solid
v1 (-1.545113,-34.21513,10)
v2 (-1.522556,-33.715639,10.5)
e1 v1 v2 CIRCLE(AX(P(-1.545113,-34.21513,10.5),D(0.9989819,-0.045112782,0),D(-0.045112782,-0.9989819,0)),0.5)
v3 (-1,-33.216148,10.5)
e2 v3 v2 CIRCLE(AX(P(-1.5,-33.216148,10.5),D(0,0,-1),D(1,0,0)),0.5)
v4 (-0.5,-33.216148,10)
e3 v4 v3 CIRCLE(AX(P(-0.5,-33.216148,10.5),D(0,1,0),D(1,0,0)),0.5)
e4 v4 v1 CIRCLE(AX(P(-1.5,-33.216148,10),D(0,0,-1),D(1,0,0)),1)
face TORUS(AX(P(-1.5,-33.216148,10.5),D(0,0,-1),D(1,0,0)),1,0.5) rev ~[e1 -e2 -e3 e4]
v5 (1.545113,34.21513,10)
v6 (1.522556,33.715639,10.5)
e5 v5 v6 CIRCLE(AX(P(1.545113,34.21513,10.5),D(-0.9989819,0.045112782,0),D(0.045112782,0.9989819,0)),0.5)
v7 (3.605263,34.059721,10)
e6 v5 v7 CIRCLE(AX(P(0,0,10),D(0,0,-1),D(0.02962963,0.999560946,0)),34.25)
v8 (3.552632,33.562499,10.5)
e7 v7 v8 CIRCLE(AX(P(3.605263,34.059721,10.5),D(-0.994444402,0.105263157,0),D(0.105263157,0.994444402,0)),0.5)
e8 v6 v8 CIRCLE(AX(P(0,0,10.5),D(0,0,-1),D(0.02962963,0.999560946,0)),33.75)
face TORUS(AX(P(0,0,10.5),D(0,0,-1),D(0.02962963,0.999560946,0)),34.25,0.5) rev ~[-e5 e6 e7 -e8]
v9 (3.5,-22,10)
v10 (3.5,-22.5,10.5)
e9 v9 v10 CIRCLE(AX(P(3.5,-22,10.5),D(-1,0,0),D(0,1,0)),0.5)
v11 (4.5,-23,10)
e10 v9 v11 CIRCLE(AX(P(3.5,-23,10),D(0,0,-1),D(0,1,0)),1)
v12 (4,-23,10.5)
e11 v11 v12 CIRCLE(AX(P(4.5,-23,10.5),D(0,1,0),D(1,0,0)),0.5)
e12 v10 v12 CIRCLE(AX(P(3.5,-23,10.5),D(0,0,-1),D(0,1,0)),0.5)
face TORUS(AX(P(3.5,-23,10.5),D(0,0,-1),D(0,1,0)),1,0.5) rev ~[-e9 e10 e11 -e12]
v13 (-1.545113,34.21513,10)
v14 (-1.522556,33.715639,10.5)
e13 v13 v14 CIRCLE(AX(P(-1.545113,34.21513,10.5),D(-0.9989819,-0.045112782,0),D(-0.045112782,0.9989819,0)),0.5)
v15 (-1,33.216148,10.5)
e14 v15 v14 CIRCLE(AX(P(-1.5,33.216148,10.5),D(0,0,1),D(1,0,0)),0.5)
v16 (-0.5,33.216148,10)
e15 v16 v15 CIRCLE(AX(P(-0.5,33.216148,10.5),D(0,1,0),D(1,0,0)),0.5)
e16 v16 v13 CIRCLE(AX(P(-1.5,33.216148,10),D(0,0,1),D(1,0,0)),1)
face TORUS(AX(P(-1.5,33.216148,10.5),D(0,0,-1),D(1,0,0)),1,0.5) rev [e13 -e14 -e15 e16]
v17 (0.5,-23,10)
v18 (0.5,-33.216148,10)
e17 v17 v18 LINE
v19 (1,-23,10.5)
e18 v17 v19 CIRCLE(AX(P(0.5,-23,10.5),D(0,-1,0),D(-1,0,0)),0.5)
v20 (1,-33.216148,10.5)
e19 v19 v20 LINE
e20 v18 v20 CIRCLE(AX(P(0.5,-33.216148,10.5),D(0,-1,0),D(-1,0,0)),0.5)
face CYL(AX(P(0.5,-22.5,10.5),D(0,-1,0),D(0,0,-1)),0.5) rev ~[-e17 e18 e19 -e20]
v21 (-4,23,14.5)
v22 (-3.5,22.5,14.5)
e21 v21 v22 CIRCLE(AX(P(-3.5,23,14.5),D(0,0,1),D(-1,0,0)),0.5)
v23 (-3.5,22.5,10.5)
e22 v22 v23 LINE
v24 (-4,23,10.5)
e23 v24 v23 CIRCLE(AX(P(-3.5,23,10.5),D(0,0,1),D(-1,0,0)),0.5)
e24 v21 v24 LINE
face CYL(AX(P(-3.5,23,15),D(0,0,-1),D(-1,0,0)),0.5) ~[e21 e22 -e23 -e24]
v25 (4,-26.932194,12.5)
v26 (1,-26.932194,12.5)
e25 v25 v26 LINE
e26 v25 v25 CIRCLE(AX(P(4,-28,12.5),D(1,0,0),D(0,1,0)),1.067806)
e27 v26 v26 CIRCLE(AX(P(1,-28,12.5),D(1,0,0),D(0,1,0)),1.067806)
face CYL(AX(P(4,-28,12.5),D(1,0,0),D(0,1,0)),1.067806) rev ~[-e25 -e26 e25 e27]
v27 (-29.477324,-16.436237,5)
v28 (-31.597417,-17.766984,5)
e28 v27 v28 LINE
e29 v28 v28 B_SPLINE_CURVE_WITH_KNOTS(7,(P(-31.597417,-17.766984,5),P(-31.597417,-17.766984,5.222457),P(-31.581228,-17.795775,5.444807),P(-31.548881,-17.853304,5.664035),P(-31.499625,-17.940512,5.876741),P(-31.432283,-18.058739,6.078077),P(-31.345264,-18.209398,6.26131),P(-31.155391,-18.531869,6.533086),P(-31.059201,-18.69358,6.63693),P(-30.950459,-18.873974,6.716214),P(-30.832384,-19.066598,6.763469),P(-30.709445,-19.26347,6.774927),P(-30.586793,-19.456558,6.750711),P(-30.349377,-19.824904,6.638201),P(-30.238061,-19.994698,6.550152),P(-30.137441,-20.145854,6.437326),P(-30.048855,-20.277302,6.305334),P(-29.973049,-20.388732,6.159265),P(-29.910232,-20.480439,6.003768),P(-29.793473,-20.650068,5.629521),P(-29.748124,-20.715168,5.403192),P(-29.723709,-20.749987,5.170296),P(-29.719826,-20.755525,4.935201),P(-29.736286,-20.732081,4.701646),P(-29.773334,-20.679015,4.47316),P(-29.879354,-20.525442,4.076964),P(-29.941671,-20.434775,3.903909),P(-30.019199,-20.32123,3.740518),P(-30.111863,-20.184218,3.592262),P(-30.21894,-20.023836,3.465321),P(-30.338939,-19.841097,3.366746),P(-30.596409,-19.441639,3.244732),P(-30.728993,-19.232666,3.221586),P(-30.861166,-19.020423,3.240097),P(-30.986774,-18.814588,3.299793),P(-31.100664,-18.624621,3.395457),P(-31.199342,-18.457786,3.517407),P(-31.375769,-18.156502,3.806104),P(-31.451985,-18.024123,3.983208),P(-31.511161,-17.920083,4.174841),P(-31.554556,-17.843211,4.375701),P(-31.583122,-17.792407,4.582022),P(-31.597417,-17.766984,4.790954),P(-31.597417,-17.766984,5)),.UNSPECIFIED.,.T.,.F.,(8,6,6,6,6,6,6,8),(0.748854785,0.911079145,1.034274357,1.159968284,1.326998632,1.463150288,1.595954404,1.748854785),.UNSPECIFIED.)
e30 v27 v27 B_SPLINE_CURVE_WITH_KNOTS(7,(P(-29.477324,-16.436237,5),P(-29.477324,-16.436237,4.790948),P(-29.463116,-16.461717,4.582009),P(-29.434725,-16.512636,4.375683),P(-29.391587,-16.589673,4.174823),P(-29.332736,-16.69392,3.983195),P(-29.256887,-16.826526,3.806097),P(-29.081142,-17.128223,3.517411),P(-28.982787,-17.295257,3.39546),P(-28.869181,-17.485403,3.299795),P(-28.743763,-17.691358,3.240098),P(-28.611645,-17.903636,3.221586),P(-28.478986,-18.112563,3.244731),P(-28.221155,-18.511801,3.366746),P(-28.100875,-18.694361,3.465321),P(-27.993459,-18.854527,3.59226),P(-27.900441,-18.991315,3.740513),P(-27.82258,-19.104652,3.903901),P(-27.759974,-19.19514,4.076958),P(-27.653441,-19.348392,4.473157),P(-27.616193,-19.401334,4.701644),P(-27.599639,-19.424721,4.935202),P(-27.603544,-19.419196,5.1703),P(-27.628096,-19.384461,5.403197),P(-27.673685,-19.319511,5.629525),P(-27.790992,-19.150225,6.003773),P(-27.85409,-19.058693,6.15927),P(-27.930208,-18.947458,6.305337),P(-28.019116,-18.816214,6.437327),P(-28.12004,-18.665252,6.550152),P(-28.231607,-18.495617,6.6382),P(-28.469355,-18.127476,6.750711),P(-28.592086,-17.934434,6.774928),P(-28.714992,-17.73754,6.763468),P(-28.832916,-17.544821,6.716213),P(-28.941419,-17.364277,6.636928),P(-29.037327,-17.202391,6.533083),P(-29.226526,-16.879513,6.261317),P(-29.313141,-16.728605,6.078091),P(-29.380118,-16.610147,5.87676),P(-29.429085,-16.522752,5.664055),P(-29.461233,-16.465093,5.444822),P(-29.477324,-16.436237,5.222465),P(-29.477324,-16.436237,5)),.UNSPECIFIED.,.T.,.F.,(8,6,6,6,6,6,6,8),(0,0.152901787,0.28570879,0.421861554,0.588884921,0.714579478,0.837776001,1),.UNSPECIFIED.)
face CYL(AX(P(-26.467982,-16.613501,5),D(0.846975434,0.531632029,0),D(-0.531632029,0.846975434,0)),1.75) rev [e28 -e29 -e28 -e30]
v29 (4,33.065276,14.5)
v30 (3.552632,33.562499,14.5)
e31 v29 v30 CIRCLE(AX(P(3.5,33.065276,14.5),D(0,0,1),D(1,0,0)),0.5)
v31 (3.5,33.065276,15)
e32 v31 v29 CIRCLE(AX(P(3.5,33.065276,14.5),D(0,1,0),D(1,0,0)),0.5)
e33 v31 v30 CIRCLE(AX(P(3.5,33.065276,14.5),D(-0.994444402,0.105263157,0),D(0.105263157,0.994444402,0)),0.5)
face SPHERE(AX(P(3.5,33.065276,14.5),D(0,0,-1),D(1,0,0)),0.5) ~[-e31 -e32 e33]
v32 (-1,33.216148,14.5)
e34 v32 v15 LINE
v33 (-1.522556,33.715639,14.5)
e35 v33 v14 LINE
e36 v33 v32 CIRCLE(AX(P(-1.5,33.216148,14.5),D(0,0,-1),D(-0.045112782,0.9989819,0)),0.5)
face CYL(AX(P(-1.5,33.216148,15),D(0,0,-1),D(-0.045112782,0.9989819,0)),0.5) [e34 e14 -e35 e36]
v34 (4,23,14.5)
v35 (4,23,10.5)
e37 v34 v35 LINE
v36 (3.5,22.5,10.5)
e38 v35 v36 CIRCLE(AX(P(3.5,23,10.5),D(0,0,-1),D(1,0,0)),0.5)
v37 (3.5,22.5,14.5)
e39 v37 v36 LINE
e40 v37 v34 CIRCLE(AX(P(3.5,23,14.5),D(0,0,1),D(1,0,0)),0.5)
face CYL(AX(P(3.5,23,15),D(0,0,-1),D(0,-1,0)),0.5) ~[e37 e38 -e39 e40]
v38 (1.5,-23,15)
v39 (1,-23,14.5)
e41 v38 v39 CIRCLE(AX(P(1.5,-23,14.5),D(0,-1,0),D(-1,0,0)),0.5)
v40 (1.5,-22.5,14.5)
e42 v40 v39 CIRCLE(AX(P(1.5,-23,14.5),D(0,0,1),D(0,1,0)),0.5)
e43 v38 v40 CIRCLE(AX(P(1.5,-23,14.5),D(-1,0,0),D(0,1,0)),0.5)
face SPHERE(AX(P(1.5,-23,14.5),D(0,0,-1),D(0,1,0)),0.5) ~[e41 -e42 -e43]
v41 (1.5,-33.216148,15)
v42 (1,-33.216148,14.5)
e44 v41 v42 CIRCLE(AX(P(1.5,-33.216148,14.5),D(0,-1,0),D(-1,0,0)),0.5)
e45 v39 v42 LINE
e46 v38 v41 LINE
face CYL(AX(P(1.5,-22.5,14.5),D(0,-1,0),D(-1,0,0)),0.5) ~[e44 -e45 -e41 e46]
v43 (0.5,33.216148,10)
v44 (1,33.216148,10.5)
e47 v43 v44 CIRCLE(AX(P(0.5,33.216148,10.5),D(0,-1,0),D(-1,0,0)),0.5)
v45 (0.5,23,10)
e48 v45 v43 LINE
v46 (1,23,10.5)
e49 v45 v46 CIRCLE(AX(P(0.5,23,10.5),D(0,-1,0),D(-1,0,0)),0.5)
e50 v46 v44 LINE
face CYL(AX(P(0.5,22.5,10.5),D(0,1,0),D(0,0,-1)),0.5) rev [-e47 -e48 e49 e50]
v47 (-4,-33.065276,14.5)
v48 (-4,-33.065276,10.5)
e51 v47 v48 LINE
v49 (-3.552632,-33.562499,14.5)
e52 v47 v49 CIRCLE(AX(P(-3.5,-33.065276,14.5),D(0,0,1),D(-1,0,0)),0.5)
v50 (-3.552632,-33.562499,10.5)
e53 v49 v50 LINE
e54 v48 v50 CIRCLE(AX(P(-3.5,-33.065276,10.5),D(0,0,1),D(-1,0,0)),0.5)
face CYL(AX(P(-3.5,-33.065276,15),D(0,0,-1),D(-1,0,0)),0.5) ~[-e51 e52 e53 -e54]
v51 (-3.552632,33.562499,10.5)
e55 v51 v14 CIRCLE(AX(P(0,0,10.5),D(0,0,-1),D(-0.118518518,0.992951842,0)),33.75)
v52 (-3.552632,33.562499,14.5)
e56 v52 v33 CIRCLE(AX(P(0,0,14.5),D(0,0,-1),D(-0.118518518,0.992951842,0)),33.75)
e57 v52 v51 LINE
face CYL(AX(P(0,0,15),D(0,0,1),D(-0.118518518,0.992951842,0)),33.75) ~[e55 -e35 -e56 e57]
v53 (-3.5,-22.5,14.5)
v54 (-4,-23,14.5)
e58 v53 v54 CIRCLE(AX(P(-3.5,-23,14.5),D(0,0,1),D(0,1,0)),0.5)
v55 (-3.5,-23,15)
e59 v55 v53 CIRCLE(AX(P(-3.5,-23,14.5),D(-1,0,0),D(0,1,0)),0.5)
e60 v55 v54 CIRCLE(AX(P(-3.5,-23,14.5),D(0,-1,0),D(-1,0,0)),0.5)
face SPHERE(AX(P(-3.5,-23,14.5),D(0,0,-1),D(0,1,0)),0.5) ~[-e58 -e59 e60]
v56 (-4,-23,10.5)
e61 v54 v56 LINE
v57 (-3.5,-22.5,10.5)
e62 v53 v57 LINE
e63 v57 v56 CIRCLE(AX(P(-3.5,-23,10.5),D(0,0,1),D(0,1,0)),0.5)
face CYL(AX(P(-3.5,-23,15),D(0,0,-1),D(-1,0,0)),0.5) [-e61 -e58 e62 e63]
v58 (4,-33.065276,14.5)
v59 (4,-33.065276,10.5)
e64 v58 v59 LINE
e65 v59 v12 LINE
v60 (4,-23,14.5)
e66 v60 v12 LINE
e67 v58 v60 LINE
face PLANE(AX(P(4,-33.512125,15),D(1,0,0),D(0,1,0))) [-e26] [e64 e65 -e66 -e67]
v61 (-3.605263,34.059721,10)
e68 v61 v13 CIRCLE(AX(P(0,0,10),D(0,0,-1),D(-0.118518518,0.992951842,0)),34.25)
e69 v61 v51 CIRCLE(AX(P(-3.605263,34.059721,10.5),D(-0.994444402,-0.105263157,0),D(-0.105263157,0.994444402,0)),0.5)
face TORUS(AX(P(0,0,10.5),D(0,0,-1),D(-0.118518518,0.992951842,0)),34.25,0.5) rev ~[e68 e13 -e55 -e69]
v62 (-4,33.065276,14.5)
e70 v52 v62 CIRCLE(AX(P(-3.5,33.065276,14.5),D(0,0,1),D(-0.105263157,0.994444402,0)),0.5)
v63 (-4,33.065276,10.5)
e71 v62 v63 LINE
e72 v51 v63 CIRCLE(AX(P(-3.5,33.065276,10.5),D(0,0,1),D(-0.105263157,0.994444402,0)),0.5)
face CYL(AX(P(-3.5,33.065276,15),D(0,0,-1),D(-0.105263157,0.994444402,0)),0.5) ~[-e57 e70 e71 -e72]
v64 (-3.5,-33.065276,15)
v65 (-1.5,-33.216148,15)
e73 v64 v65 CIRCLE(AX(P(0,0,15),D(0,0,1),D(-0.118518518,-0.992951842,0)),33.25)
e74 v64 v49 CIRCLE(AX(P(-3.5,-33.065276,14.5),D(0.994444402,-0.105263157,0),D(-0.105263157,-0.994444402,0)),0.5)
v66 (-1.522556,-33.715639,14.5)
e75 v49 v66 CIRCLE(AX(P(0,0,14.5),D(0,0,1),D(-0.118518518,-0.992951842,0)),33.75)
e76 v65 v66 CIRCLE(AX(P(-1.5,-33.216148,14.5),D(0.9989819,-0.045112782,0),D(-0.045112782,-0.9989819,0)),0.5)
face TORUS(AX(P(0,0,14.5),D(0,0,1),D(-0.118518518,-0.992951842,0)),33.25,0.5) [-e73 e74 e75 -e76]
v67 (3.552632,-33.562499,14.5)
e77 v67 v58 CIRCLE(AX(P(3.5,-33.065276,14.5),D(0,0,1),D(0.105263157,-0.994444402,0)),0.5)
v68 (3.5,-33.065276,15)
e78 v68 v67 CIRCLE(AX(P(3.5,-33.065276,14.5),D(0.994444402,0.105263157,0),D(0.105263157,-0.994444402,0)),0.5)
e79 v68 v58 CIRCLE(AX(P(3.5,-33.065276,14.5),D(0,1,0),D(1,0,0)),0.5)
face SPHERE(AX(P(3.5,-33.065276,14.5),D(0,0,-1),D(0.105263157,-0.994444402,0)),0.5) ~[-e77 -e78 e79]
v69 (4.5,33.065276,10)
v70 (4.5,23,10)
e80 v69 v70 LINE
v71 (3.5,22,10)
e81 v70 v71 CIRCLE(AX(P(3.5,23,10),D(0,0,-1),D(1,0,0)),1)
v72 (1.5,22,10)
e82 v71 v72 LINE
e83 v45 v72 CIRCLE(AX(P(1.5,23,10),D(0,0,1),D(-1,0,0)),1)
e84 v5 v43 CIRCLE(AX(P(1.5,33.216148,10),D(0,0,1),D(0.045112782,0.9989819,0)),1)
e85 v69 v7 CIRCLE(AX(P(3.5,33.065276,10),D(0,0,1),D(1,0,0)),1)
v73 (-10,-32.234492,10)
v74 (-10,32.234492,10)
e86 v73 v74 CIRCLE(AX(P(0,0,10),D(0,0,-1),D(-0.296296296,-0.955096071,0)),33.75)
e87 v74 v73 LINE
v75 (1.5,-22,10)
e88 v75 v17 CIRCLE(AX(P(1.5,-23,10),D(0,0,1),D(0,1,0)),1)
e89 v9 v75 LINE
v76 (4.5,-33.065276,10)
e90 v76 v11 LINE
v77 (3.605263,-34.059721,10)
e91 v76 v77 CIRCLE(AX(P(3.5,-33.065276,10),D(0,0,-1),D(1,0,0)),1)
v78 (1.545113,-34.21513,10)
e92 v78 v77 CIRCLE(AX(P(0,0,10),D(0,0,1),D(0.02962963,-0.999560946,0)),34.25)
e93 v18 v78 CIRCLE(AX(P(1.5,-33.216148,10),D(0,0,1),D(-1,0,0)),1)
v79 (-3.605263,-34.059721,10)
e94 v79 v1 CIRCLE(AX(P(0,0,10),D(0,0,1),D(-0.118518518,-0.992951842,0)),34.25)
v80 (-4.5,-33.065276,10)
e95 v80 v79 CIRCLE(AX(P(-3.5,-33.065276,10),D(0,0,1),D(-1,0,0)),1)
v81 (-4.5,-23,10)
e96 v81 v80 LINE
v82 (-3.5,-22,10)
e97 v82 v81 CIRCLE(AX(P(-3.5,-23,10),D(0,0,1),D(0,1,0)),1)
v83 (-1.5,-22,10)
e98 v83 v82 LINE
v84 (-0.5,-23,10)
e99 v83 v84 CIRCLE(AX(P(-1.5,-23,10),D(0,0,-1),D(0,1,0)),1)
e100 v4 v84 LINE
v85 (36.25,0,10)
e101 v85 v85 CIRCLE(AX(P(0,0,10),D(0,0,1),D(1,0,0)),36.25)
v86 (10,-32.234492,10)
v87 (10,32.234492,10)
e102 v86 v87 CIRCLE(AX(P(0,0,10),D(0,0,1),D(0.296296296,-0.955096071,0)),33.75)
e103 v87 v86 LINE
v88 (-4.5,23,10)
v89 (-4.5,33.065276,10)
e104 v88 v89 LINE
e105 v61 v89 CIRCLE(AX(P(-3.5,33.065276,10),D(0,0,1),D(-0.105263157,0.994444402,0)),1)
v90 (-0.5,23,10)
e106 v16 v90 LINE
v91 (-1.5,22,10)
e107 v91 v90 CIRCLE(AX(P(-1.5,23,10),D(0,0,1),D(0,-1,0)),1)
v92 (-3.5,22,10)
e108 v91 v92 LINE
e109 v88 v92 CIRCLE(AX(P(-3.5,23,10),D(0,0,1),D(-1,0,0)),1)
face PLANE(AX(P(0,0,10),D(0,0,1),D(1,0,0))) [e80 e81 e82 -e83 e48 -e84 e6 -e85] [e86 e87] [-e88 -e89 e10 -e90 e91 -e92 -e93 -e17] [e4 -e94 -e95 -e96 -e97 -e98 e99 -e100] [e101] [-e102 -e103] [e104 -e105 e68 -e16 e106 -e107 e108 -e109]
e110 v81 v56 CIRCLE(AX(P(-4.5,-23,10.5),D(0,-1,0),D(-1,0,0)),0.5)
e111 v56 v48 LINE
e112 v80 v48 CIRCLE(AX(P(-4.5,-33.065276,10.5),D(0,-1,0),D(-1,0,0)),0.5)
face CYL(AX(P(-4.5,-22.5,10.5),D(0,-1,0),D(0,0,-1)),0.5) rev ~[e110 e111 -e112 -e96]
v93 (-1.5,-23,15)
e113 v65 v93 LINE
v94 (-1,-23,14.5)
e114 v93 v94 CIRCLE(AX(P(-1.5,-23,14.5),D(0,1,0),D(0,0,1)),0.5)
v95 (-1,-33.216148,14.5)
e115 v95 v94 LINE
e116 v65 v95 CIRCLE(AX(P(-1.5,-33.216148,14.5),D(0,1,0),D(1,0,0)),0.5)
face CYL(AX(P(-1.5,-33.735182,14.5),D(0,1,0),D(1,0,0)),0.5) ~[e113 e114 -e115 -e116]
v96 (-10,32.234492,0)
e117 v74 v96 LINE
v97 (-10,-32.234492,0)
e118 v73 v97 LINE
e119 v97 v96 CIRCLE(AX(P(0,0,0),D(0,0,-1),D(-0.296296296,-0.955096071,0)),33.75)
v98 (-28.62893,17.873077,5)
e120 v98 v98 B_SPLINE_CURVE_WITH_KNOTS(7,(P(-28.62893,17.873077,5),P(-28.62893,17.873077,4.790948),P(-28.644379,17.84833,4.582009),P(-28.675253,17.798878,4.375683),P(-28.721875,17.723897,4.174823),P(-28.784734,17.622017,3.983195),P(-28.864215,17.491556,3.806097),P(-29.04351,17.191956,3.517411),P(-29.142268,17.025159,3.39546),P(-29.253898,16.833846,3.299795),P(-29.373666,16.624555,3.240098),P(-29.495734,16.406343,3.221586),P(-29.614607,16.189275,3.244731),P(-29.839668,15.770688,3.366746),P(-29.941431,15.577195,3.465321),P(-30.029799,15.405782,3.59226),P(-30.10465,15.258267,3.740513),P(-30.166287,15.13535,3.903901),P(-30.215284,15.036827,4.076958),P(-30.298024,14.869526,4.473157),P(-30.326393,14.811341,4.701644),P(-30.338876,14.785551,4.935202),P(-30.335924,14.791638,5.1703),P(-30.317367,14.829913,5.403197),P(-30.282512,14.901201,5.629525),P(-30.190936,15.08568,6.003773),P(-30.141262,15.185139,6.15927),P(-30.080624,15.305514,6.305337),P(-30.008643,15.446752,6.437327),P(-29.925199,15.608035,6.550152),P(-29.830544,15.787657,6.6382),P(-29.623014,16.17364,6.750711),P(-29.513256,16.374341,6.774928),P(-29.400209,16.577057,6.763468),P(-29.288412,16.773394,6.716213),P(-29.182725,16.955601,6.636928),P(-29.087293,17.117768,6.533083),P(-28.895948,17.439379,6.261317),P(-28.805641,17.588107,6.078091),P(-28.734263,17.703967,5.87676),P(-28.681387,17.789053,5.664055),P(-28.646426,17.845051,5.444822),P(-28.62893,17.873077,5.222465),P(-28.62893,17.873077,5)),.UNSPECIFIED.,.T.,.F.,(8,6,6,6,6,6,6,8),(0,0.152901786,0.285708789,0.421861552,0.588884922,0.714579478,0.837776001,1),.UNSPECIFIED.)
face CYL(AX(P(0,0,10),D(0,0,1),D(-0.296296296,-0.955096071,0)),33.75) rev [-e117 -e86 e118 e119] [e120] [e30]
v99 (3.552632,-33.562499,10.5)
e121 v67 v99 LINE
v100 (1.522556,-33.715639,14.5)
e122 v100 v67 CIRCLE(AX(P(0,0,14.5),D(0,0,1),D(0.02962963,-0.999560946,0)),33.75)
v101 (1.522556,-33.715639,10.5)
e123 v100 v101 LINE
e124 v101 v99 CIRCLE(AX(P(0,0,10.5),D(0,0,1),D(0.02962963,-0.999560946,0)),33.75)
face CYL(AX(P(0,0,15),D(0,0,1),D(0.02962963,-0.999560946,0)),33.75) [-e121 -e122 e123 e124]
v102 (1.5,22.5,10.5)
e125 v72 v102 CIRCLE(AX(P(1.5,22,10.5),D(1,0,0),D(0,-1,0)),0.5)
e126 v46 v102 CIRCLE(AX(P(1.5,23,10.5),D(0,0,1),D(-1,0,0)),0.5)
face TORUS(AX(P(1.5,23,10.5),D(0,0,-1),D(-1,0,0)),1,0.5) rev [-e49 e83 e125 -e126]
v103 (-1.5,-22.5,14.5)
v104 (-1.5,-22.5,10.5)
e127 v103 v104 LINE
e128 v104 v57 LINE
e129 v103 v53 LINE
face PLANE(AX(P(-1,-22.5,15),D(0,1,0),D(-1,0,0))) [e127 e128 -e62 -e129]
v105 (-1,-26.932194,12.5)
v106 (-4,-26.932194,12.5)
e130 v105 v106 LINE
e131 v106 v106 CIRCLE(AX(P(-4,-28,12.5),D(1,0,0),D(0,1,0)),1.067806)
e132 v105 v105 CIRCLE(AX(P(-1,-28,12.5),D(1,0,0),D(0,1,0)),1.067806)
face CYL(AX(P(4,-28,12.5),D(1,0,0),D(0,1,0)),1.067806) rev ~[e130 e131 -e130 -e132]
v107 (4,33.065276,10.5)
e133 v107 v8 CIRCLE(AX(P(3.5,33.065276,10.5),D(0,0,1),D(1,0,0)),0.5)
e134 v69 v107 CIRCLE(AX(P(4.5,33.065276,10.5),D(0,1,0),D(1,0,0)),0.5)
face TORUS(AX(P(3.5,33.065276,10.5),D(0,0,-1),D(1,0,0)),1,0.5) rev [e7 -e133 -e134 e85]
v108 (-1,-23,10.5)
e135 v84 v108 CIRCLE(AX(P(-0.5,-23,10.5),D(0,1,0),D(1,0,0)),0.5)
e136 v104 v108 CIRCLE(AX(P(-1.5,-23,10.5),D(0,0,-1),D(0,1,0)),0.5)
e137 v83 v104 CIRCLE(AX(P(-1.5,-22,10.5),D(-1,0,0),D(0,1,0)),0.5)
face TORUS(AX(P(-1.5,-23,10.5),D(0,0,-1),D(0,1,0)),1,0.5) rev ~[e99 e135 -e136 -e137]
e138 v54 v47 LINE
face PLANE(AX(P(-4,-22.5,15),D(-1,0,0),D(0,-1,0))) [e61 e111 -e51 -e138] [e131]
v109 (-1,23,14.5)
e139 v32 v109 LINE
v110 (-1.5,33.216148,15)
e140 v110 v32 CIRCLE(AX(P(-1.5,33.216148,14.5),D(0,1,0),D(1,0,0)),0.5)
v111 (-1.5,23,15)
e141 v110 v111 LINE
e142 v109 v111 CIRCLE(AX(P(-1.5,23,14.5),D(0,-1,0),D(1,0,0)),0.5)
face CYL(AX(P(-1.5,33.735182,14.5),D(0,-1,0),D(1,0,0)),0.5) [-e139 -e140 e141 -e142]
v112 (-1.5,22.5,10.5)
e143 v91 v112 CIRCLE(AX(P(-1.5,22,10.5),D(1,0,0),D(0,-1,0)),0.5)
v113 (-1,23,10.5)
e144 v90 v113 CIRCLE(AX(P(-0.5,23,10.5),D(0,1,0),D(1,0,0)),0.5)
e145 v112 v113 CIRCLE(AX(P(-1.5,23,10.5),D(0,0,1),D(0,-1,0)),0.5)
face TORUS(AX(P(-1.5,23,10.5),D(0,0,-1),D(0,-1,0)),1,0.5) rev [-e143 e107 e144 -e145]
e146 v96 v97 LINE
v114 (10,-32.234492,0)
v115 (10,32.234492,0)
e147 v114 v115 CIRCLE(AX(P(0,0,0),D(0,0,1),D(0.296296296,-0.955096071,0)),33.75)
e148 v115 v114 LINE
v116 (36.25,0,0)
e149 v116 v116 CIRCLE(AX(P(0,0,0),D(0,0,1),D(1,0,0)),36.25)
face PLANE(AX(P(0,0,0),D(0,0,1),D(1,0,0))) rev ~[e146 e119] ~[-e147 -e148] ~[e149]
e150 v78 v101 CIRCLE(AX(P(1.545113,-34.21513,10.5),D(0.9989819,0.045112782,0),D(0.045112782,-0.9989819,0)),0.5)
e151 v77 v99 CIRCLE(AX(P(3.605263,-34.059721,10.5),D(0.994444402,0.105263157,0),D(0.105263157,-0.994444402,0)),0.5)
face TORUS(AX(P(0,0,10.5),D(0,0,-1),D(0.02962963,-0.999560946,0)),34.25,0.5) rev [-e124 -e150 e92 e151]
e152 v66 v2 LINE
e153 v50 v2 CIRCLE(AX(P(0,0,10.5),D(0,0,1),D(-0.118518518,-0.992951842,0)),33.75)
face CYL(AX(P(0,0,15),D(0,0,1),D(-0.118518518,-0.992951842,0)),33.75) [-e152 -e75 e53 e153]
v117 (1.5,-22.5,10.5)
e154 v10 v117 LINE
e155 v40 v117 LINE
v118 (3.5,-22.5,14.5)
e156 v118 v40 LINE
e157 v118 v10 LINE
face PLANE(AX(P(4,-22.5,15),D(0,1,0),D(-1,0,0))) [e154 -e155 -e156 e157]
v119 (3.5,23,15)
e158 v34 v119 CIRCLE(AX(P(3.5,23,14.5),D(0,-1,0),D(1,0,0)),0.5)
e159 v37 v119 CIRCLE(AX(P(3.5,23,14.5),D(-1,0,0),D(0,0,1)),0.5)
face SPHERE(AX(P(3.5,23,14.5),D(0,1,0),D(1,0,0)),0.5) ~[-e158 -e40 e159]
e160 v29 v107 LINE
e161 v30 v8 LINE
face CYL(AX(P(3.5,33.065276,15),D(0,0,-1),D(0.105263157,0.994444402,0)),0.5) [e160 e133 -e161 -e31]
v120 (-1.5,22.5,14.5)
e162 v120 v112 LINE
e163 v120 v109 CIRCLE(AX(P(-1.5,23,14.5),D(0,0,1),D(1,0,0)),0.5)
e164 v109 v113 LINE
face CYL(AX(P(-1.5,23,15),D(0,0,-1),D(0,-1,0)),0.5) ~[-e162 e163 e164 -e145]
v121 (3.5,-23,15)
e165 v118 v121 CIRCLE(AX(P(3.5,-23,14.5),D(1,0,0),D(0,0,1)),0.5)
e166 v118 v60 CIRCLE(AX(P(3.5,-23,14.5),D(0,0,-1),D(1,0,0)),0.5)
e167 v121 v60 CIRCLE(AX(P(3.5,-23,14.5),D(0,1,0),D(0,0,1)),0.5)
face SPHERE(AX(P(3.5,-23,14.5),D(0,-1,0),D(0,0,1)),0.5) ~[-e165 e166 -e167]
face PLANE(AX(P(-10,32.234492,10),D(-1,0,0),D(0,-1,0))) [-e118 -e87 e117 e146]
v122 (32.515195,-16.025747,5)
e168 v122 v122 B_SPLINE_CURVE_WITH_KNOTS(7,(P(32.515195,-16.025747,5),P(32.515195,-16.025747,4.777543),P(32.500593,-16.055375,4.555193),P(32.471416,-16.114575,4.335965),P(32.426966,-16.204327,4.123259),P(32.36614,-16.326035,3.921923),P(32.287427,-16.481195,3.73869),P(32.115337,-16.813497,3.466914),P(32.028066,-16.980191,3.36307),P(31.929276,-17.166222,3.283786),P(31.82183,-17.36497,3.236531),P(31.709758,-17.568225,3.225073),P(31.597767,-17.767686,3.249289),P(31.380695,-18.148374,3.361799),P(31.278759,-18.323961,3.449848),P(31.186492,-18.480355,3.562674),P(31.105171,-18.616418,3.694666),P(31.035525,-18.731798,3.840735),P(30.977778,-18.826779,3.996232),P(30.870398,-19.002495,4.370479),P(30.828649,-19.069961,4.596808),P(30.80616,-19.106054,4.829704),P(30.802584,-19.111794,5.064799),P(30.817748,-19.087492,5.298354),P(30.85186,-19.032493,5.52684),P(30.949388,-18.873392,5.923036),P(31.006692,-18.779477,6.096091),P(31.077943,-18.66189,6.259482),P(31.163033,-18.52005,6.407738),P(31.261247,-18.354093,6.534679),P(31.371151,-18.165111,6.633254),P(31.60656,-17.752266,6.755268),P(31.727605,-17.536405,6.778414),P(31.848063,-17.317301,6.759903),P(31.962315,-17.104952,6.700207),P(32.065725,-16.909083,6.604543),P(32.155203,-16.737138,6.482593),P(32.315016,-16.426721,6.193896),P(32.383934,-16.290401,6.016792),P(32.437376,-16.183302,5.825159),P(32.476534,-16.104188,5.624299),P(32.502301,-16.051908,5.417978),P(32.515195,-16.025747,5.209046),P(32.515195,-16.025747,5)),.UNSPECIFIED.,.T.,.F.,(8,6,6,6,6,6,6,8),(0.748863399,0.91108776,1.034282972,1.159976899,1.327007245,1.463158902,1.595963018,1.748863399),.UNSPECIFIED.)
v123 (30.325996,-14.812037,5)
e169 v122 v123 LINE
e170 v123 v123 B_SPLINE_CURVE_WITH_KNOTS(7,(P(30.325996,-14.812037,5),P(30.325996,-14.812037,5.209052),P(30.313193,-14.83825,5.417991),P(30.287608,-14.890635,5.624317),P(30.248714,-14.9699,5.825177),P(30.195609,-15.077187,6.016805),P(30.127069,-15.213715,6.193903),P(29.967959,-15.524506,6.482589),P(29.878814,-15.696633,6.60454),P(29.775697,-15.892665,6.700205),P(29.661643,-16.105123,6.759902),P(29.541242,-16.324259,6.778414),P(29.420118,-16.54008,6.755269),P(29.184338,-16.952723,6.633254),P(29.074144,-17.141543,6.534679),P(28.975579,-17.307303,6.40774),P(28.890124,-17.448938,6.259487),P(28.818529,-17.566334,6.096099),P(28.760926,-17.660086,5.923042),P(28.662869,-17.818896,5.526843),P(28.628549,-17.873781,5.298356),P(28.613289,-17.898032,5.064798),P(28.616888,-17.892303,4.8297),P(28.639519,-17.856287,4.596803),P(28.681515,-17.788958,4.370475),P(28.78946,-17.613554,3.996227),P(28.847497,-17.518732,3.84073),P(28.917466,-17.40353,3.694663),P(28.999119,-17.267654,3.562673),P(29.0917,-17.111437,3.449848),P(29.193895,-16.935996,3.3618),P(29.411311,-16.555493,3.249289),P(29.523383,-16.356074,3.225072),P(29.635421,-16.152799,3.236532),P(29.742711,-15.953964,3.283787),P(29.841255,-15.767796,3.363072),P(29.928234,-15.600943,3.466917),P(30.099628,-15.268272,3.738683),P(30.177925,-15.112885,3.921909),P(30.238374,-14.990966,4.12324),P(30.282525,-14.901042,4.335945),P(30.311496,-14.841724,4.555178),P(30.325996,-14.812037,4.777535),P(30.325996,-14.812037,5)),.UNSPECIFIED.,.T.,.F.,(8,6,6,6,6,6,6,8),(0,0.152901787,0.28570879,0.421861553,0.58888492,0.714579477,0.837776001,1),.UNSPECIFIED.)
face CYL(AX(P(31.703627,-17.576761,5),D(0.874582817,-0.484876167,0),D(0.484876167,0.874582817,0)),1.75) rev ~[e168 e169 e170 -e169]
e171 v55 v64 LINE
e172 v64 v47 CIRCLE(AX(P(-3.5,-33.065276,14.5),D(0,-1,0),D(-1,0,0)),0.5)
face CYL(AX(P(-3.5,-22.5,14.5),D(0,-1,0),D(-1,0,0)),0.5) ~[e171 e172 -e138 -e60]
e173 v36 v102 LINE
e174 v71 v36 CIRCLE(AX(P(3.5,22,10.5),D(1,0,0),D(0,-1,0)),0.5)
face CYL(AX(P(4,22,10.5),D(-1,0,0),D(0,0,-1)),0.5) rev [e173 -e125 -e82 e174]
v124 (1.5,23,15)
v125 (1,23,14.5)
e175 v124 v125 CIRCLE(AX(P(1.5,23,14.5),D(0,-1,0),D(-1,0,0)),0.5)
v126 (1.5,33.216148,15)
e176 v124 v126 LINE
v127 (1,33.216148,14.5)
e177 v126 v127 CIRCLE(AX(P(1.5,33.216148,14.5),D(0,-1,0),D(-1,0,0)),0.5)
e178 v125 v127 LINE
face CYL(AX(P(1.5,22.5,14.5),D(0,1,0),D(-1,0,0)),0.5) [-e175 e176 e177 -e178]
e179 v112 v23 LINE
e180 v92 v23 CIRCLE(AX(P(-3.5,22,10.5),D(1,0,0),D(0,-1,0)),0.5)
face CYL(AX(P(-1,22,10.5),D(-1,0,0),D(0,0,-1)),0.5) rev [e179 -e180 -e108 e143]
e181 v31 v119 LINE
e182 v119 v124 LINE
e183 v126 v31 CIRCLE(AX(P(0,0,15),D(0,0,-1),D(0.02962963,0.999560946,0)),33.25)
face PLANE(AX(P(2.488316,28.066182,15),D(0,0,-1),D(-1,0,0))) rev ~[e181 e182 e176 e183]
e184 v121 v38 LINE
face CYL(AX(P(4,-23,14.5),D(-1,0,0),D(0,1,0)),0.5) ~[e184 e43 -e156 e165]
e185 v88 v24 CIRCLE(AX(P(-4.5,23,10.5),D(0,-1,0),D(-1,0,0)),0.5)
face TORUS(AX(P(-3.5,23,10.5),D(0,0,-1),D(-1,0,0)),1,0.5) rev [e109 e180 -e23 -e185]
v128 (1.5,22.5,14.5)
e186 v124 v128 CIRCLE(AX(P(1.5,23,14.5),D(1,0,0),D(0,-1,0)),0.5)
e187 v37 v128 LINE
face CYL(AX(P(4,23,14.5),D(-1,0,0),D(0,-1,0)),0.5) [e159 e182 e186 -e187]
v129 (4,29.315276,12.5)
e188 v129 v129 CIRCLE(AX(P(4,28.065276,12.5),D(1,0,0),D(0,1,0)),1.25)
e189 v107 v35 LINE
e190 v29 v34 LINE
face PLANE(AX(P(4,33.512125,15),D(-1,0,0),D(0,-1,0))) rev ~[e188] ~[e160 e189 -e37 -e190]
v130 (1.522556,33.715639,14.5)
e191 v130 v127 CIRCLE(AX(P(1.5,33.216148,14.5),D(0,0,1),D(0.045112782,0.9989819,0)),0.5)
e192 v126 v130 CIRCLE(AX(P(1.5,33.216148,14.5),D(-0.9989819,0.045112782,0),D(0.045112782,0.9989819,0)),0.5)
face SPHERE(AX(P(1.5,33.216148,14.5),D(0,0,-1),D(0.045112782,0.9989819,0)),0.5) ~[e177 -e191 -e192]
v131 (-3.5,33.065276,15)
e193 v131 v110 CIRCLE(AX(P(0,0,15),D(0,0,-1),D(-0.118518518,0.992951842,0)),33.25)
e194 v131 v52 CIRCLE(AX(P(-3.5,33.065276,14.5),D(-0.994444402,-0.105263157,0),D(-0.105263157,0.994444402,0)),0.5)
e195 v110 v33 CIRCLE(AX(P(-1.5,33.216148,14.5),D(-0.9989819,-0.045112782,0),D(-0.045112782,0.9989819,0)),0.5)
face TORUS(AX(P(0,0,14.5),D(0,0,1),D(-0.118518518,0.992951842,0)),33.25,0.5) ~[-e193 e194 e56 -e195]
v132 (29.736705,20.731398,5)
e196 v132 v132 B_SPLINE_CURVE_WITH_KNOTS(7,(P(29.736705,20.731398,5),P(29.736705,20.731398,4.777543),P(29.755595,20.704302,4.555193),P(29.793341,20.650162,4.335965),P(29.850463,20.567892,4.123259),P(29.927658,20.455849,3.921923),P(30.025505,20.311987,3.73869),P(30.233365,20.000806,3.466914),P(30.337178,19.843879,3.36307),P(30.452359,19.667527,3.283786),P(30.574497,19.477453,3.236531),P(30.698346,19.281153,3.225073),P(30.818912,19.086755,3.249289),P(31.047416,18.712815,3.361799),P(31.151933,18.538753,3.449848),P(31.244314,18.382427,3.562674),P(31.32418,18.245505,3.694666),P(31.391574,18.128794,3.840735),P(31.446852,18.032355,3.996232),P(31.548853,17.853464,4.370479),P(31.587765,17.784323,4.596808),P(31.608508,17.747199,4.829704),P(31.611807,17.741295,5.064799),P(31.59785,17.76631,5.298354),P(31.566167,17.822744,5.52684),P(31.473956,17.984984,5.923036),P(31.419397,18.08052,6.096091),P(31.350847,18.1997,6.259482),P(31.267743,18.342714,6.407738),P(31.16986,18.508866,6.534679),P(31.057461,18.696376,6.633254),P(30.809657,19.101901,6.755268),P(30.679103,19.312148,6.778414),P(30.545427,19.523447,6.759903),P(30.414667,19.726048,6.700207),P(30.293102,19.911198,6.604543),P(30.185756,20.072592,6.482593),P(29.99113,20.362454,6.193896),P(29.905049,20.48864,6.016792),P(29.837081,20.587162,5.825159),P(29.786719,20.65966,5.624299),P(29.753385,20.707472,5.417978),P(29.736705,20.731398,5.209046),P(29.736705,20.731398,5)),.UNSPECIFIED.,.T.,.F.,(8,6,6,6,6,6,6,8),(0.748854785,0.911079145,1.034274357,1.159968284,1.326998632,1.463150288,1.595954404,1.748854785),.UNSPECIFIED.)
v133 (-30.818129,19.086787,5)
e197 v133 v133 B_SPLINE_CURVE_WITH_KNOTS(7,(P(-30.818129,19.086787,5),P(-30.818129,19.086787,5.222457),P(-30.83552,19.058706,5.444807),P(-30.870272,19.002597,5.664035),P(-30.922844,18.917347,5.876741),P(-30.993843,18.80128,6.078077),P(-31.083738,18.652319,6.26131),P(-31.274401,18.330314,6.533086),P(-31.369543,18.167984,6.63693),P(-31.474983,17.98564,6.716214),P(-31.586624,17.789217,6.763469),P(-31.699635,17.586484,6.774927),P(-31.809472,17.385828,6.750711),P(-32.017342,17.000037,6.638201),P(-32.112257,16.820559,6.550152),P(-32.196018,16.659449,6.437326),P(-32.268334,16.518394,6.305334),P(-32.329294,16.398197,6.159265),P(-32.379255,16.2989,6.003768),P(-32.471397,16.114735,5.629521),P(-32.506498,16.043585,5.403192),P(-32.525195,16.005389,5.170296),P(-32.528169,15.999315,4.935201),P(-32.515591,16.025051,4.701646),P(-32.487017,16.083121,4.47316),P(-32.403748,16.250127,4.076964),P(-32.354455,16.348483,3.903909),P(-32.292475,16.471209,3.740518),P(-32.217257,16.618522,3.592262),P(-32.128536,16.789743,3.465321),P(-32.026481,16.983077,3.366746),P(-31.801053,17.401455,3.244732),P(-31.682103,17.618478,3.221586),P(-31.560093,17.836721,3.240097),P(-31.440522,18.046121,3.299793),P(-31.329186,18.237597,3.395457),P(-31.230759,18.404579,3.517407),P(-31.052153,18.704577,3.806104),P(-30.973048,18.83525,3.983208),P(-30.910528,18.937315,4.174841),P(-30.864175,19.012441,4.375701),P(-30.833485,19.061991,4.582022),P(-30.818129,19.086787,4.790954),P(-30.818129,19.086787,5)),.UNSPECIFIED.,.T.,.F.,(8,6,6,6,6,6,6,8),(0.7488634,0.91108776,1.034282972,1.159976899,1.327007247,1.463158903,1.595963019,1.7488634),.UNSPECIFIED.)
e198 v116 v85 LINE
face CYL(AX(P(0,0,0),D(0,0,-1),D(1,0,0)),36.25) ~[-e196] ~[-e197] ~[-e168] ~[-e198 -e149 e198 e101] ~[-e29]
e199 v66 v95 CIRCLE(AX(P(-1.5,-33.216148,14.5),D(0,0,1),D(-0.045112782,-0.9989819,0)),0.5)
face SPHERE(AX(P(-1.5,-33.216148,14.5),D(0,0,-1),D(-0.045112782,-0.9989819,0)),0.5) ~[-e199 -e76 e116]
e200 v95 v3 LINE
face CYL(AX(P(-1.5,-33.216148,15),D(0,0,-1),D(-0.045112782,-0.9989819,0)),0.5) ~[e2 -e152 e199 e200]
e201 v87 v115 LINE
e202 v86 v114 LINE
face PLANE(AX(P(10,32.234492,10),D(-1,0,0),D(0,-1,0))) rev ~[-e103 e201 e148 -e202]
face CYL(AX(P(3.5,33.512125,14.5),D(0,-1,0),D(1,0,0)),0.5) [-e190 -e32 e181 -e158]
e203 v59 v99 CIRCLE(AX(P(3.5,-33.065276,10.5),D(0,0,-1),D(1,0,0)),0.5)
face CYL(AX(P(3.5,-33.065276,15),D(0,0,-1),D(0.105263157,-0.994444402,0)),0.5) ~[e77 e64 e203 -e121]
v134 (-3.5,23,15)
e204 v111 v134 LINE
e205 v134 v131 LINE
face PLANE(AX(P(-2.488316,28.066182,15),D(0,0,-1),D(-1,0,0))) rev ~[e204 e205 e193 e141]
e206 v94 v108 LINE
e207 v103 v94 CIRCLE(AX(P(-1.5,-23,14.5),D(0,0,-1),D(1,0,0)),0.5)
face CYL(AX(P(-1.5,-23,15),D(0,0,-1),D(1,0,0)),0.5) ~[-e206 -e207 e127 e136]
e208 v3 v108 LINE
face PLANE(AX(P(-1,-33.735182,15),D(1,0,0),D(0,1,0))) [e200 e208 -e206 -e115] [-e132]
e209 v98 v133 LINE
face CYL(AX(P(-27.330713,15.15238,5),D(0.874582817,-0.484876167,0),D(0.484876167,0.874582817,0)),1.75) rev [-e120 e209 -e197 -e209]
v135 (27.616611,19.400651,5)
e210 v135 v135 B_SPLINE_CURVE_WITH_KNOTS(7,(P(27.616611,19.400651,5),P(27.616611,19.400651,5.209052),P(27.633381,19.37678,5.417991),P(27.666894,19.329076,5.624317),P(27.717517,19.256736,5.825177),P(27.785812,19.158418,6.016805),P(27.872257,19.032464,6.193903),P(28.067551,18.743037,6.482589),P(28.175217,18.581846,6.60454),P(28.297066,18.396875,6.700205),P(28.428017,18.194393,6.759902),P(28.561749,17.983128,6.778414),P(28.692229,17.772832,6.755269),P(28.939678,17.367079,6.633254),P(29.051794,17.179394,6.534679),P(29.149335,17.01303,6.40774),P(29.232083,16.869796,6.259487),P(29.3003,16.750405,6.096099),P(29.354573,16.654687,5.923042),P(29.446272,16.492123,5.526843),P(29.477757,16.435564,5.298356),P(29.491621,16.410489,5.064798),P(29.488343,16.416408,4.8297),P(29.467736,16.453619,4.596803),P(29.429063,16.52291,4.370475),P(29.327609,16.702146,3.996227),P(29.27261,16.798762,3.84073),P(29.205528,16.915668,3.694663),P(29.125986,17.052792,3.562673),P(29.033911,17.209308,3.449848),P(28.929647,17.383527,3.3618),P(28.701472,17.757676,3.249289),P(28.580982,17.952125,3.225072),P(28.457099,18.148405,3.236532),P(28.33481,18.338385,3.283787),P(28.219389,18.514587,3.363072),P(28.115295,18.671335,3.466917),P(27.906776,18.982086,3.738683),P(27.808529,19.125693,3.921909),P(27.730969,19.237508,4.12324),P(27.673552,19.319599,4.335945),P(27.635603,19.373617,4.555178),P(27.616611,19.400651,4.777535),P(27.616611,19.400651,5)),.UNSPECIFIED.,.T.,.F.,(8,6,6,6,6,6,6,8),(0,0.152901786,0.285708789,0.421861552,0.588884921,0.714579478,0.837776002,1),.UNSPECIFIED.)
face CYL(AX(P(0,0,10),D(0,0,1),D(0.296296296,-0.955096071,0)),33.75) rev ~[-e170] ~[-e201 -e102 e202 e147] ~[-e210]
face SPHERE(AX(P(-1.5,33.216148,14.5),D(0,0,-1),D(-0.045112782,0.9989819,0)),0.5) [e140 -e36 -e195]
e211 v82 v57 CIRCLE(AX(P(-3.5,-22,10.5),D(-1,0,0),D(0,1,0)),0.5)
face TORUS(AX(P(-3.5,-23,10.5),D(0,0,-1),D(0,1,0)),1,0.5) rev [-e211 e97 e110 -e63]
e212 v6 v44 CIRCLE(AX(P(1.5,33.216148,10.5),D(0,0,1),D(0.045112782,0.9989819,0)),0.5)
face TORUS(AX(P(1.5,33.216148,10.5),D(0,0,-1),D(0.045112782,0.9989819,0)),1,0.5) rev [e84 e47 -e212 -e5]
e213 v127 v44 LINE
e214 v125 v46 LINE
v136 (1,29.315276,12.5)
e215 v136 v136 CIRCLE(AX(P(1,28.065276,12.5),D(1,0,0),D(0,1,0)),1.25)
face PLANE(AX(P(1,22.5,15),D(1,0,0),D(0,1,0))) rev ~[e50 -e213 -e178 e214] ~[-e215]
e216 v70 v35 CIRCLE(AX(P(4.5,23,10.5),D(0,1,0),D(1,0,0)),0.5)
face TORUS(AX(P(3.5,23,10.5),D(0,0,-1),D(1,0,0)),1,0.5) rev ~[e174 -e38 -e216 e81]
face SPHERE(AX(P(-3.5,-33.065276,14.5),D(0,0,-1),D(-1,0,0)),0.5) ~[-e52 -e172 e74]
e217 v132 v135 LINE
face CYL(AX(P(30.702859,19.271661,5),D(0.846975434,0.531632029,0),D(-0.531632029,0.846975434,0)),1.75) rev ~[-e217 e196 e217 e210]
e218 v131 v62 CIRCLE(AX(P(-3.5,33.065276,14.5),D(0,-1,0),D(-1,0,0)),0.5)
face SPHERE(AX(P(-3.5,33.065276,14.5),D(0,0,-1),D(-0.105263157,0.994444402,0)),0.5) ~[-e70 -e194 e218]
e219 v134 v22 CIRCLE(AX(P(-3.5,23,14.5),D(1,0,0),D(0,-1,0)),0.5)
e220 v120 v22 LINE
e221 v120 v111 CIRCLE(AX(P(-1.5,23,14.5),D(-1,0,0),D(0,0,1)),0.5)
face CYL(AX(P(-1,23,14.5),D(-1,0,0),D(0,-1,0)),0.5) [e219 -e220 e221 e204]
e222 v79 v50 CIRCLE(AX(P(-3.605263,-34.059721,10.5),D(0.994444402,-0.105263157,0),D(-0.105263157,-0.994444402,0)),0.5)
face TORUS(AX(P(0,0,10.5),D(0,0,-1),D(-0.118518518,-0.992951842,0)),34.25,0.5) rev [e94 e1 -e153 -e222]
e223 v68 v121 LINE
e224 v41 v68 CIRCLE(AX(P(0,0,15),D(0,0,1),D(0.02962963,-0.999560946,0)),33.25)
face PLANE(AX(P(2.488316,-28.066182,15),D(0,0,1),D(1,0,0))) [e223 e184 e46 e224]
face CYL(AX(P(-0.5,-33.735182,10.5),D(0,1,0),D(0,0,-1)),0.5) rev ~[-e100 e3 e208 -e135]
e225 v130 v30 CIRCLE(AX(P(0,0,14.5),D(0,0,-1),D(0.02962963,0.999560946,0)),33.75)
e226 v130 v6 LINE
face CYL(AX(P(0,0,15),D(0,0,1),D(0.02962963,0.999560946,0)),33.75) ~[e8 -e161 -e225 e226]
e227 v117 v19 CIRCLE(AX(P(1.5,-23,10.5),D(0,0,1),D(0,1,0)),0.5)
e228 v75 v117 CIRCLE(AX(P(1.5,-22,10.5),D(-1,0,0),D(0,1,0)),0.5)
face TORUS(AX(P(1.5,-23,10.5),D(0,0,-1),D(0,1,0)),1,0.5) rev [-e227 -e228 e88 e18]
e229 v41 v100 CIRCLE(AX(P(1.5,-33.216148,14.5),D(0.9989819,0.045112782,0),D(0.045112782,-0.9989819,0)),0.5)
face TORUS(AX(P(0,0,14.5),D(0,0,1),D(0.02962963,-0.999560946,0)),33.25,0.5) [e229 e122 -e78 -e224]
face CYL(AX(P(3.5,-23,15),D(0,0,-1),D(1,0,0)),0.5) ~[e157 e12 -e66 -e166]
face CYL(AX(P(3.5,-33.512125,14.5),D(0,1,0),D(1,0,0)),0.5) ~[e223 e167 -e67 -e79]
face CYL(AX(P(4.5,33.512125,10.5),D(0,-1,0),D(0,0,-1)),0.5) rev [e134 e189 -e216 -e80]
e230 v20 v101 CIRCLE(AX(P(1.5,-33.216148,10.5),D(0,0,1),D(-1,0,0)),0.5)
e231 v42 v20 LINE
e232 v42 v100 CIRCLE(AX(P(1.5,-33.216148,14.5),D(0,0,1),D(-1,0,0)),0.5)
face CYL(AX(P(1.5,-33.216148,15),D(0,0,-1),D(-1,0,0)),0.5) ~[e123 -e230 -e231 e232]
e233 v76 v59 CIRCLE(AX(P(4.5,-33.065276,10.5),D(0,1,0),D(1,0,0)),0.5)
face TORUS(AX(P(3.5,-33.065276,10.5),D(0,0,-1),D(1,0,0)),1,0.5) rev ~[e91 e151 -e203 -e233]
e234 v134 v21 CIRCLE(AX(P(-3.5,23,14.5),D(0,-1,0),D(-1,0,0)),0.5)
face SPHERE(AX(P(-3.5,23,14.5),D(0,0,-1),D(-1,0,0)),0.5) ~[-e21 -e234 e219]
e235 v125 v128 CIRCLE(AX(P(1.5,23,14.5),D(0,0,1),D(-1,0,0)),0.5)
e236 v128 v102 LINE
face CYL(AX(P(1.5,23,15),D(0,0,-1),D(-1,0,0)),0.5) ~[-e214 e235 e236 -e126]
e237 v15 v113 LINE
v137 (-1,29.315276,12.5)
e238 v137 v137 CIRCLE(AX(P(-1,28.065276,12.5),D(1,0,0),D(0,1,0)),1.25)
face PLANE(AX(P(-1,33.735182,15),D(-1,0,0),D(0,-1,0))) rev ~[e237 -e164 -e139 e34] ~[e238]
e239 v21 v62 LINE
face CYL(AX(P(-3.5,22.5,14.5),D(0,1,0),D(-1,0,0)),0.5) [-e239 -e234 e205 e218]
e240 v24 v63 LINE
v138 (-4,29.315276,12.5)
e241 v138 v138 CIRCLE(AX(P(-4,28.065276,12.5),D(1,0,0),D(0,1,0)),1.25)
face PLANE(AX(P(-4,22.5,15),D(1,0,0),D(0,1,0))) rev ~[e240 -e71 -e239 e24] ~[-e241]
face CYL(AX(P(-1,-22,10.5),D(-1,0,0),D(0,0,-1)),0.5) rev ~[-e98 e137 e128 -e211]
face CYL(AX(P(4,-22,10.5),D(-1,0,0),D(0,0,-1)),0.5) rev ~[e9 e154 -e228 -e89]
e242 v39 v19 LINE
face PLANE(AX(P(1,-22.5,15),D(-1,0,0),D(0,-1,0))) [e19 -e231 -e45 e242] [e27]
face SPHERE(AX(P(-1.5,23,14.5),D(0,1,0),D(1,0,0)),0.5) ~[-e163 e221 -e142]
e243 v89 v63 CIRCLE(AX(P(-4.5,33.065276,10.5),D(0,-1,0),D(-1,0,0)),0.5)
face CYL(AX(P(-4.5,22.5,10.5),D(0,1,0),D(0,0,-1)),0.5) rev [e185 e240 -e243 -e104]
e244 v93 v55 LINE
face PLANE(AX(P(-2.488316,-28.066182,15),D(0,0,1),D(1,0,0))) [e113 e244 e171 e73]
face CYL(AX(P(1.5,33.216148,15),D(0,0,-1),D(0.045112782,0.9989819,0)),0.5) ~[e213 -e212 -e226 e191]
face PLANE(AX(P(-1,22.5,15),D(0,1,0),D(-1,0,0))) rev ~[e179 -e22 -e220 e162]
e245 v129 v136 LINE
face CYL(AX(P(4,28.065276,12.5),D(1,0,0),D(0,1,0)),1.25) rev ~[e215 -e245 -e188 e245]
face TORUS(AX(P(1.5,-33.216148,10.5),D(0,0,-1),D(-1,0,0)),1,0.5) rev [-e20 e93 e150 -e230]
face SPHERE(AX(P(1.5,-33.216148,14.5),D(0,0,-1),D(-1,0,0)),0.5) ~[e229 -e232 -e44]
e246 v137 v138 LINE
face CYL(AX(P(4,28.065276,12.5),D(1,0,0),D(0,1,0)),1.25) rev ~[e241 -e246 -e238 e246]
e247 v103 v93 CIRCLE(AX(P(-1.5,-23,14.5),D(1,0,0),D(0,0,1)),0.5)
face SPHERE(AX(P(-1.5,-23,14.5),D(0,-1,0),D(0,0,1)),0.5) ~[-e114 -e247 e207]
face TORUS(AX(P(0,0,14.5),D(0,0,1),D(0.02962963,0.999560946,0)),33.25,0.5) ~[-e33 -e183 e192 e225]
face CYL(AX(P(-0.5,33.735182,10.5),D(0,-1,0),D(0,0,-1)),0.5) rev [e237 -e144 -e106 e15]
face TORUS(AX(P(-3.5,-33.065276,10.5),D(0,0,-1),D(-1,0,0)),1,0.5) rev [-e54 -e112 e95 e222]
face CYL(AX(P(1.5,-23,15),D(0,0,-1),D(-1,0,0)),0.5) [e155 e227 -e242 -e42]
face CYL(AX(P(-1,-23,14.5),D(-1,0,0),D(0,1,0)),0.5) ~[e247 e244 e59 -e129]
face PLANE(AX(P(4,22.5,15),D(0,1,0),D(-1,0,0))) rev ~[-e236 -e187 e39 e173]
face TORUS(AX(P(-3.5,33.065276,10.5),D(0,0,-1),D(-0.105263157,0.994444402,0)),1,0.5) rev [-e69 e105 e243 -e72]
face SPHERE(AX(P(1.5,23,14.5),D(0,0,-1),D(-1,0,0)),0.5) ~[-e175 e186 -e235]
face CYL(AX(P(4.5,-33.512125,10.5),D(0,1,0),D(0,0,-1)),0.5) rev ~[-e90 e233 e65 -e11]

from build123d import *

# Parameters (mm, degrees)
SKETCH5_R           = 36.25
BOSS_EXTRUDE2_DEPTH = 10
CUT_EXTRUDE1_DEPTH  = 10
BOSS_EXTRUDE4_START = 5
BOSS_EXTRUDE4_DEPTH = 5
FILLET1_R           = 0.5
SKETCH8_R           = 1.75
CUT_EXTRUDE2_DEPTH  = 5
SKETCH9_R           = 1.75
CUT_EXTRUDE3_DEPTH  = 5
CUT_EXTRUDE4_START  = -5
SKETCH10_R          = 1.75
CUT_EXTRUDE4_DEPTH  = 5
CUT_EXTRUDE5_START  = -5
SKETCH11_R          = 1.75
CUT_EXTRUDE5_DEPTH  = 5
SKETCH12_R          = 1.25
CUT_EXTRUDE6_DEPTH  = 10
SKETCH13_R          = 1.067806031
CUT_EXTRUDE7_DEPTH  = 10


with BuildPart() as part:
    # Sketch5 → Boss-Extrude2 (new body)
    with BuildSketch(Plane.XY):
        Circle(SKETCH5_R)
    extrude(amount=BOSS_EXTRUDE2_DEPTH)

    # Sketch6 → Cut-Extrude1 (cut)
    with BuildSketch(Plane.XY.offset(10)):
        with BuildLine():
            ThreePointArc((10, -32.234492396), (33.75, 0), (10, 32.234492396))
            Line((10, 32.234492396), (10, -32.234492396))
        make_face()
        with BuildLine():
            Line((-10, -32.234492396), (-10, 32.234492396))
            ThreePointArc((-10, 32.234492396), (-33.75, 0), (-10, -32.234492396))
        make_face()
    extrude(amount=-CUT_EXTRUDE1_DEPTH, mode=Mode.SUBTRACT)

    # Sketch6<8> → Boss-Extrude4 (add)
    with BuildSketch(Plane.XY.offset(10).offset(BOSS_EXTRUDE4_START)):
        with BuildLine():
            Line((4, 22.5), (4, 33.512124672))
            ThreePointArc((4, 33.512124672), (2.502486491, 33.65709526), (1, 33.735181932))
            Line((1, 33.735181932), (1, 22.5))
            Line((1, 22.5), (4, 22.5))
        make_face()
        with BuildLine():
            ThreePointArc((-1, 33.735181932), (-2.502486491, 33.65709526), (-4, 33.512124672))
            Line((-4, 33.512124672), (-4, 22.5))
            Line((-4, 22.5), (-1, 22.5))
            Line((-1, 22.5), (-1, 33.735181932))
        make_face()
        with BuildLine():
            Line((-1, -22.5), (-4, -22.5))
            Line((-4, -22.5), (-4, -33.512124672))
            ThreePointArc((-4, -33.512124672), (-2.502486491, -33.65709526), (-1, -33.735181932))
            Line((-1, -33.735181932), (-1, -22.5))
        make_face()
        with BuildLine():
            Line((4, -22.5), (1, -22.5))
            Line((1, -22.5), (1, -33.735181932))
            ThreePointArc((1, -33.735181932), (2.502486491, -33.65709526), (4, -33.512124672))
            Line((4, -33.512124672), (4, -22.5))
        make_face()
    extrude(amount=-BOSS_EXTRUDE4_DEPTH)

    # Fillet1
    fillet1_edges = [part.edges().sort_by_distance(p)[0] for p in [
        (1, -28.117590966, 10),
        (1, 28.117590966, 10),
        (-1, 28.117590966, 10),
        (4, 28.006062336, 10),
        (-2.5, -22.5, 10),
        (1, -22.5, 12.5),
        (2.5, -22.5, 10),
        (-2.5, -22.5, 15),
        (-1, -28.117590966, 15),
        (-1, -22.5, 12.5),
        (-1, -28.117590966, 10),
        (2.5, -22.5, 15),
        (1, -28.117590966, 15),
        (4, -28.006062336, 15),
        (4, -22.5, 12.5),
        (4, -28.006062336, 10),
        (1, -33.735181932, 12.5),
        (2.502486491, -33.65709526, 15),
        (4, -33.512124672, 12.5),
        (2.502486491, -33.65709526, 10),
        (-2.502486491, -33.65709526, 15),
        (-1, -33.735181932, 12.5),
        (-2.502486491, -33.65709526, 10),
        (-4, -22.5, 12.5),
        (-4, -28.006062336, 15),
        (-4, -33.512124672, 12.5),
        (-4, -28.006062336, 10),
        (-1, 22.5, 12.5),
        (-2.5, 22.5, 10),
        (1, 22.5, 12.5),
        (4, 22.5, 12.5),
        (2.5, 22.5, 10),
        (-4, 22.5, 12.5),
        (-4, 28.006062336, 10),
        (4, 33.512124672, 12.5),
        (1, 33.735181932, 12.5),
        (2.502486491, 33.65709526, 10),
        (-1, 33.735181932, 12.5),
        (-4, 33.512124672, 12.5),
        (-2.502486491, 33.65709526, 10),
        (4, 28.006062336, 15),
        (2.5, 22.5, 15),
        (1, 28.117590966, 15),
        (2.502486491, 33.65709526, 15),
        (-2.5, 22.5, 15),
        (-4, 28.006062336, 15),
        (-2.502486491, 33.65709526, 15),
        (-1, 28.117590966, 15),
    ]]
    fillet(fillet1_edges, radius=FILLET1_R)

    # Sketch8 → Cut-Extrude2 (cut)
    with BuildSketch(Plane(origin=(31.703627103, -17.576761036, 0), x_dir=(0, 0, -1), z_dir=(0.8745828166294621, -0.484876166517263, 0))):
        with Locations((-5, 0)):
            Circle(SKETCH8_R)
    extrude(amount=-CUT_EXTRUDE2_DEPTH, mode=Mode.SUBTRACT)

    # Sketch9 → Cut-Extrude3 (cut)
    with BuildSketch(Plane(origin=(30.70285949, 19.271661037, 0), x_dir=(0, 0, -1), z_dir=(0.8469754342156529, 0.5316320286017447, 0))):
        with Locations((-5, 0)):
            Circle(SKETCH9_R)
    extrude(amount=-CUT_EXTRUDE3_DEPTH, mode=Mode.SUBTRACT)

    # Sketch10 → Cut-Extrude4 (cut)
    with BuildSketch(Plane(origin=(-31.703627103, 17.576761036, 0), x_dir=(0, 0, 1), z_dir=(-0.8745828166294618, 0.4848761665172636, 0)).offset(CUT_EXTRUDE4_START)):
        with Locations((5, 0)):
            Circle(SKETCH10_R)
    extrude(amount=CUT_EXTRUDE4_DEPTH, mode=Mode.SUBTRACT)

    # Sketch11 → Cut-Extrude5 (cut)
    with BuildSketch(Plane(origin=(-30.70285949, -19.271661037, 0), x_dir=(0, 0, 1), z_dir=(-0.8469754342156534, -0.5316320286017441, 0)).offset(CUT_EXTRUDE5_START)):
        with Locations((5, 0)):
            Circle(SKETCH11_R)
    extrude(amount=CUT_EXTRUDE5_DEPTH, mode=Mode.SUBTRACT)

    # Sketch12 → Cut-Extrude6 (cut)
    with BuildSketch(Plane(origin=(4, 0, 0), x_dir=(0, 0, -1), z_dir=(1, 0, 0))):
        with Locations((-12.5, 28.065276348)):
            Circle(SKETCH12_R)
    extrude(amount=-CUT_EXTRUDE6_DEPTH, mode=Mode.SUBTRACT)

    # Sketch13 → Cut-Extrude7 (cut)
    with BuildSketch(Plane(origin=(4, 0, 0), x_dir=(0, 0, -1), z_dir=(1, 0, 0))):
        with Locations((-12.5, -28)):
            Circle(SKETCH13_R)
    extrude(amount=-CUT_EXTRUDE7_DEPTH, mode=Mode.SUBTRACT)


solid = part.part
